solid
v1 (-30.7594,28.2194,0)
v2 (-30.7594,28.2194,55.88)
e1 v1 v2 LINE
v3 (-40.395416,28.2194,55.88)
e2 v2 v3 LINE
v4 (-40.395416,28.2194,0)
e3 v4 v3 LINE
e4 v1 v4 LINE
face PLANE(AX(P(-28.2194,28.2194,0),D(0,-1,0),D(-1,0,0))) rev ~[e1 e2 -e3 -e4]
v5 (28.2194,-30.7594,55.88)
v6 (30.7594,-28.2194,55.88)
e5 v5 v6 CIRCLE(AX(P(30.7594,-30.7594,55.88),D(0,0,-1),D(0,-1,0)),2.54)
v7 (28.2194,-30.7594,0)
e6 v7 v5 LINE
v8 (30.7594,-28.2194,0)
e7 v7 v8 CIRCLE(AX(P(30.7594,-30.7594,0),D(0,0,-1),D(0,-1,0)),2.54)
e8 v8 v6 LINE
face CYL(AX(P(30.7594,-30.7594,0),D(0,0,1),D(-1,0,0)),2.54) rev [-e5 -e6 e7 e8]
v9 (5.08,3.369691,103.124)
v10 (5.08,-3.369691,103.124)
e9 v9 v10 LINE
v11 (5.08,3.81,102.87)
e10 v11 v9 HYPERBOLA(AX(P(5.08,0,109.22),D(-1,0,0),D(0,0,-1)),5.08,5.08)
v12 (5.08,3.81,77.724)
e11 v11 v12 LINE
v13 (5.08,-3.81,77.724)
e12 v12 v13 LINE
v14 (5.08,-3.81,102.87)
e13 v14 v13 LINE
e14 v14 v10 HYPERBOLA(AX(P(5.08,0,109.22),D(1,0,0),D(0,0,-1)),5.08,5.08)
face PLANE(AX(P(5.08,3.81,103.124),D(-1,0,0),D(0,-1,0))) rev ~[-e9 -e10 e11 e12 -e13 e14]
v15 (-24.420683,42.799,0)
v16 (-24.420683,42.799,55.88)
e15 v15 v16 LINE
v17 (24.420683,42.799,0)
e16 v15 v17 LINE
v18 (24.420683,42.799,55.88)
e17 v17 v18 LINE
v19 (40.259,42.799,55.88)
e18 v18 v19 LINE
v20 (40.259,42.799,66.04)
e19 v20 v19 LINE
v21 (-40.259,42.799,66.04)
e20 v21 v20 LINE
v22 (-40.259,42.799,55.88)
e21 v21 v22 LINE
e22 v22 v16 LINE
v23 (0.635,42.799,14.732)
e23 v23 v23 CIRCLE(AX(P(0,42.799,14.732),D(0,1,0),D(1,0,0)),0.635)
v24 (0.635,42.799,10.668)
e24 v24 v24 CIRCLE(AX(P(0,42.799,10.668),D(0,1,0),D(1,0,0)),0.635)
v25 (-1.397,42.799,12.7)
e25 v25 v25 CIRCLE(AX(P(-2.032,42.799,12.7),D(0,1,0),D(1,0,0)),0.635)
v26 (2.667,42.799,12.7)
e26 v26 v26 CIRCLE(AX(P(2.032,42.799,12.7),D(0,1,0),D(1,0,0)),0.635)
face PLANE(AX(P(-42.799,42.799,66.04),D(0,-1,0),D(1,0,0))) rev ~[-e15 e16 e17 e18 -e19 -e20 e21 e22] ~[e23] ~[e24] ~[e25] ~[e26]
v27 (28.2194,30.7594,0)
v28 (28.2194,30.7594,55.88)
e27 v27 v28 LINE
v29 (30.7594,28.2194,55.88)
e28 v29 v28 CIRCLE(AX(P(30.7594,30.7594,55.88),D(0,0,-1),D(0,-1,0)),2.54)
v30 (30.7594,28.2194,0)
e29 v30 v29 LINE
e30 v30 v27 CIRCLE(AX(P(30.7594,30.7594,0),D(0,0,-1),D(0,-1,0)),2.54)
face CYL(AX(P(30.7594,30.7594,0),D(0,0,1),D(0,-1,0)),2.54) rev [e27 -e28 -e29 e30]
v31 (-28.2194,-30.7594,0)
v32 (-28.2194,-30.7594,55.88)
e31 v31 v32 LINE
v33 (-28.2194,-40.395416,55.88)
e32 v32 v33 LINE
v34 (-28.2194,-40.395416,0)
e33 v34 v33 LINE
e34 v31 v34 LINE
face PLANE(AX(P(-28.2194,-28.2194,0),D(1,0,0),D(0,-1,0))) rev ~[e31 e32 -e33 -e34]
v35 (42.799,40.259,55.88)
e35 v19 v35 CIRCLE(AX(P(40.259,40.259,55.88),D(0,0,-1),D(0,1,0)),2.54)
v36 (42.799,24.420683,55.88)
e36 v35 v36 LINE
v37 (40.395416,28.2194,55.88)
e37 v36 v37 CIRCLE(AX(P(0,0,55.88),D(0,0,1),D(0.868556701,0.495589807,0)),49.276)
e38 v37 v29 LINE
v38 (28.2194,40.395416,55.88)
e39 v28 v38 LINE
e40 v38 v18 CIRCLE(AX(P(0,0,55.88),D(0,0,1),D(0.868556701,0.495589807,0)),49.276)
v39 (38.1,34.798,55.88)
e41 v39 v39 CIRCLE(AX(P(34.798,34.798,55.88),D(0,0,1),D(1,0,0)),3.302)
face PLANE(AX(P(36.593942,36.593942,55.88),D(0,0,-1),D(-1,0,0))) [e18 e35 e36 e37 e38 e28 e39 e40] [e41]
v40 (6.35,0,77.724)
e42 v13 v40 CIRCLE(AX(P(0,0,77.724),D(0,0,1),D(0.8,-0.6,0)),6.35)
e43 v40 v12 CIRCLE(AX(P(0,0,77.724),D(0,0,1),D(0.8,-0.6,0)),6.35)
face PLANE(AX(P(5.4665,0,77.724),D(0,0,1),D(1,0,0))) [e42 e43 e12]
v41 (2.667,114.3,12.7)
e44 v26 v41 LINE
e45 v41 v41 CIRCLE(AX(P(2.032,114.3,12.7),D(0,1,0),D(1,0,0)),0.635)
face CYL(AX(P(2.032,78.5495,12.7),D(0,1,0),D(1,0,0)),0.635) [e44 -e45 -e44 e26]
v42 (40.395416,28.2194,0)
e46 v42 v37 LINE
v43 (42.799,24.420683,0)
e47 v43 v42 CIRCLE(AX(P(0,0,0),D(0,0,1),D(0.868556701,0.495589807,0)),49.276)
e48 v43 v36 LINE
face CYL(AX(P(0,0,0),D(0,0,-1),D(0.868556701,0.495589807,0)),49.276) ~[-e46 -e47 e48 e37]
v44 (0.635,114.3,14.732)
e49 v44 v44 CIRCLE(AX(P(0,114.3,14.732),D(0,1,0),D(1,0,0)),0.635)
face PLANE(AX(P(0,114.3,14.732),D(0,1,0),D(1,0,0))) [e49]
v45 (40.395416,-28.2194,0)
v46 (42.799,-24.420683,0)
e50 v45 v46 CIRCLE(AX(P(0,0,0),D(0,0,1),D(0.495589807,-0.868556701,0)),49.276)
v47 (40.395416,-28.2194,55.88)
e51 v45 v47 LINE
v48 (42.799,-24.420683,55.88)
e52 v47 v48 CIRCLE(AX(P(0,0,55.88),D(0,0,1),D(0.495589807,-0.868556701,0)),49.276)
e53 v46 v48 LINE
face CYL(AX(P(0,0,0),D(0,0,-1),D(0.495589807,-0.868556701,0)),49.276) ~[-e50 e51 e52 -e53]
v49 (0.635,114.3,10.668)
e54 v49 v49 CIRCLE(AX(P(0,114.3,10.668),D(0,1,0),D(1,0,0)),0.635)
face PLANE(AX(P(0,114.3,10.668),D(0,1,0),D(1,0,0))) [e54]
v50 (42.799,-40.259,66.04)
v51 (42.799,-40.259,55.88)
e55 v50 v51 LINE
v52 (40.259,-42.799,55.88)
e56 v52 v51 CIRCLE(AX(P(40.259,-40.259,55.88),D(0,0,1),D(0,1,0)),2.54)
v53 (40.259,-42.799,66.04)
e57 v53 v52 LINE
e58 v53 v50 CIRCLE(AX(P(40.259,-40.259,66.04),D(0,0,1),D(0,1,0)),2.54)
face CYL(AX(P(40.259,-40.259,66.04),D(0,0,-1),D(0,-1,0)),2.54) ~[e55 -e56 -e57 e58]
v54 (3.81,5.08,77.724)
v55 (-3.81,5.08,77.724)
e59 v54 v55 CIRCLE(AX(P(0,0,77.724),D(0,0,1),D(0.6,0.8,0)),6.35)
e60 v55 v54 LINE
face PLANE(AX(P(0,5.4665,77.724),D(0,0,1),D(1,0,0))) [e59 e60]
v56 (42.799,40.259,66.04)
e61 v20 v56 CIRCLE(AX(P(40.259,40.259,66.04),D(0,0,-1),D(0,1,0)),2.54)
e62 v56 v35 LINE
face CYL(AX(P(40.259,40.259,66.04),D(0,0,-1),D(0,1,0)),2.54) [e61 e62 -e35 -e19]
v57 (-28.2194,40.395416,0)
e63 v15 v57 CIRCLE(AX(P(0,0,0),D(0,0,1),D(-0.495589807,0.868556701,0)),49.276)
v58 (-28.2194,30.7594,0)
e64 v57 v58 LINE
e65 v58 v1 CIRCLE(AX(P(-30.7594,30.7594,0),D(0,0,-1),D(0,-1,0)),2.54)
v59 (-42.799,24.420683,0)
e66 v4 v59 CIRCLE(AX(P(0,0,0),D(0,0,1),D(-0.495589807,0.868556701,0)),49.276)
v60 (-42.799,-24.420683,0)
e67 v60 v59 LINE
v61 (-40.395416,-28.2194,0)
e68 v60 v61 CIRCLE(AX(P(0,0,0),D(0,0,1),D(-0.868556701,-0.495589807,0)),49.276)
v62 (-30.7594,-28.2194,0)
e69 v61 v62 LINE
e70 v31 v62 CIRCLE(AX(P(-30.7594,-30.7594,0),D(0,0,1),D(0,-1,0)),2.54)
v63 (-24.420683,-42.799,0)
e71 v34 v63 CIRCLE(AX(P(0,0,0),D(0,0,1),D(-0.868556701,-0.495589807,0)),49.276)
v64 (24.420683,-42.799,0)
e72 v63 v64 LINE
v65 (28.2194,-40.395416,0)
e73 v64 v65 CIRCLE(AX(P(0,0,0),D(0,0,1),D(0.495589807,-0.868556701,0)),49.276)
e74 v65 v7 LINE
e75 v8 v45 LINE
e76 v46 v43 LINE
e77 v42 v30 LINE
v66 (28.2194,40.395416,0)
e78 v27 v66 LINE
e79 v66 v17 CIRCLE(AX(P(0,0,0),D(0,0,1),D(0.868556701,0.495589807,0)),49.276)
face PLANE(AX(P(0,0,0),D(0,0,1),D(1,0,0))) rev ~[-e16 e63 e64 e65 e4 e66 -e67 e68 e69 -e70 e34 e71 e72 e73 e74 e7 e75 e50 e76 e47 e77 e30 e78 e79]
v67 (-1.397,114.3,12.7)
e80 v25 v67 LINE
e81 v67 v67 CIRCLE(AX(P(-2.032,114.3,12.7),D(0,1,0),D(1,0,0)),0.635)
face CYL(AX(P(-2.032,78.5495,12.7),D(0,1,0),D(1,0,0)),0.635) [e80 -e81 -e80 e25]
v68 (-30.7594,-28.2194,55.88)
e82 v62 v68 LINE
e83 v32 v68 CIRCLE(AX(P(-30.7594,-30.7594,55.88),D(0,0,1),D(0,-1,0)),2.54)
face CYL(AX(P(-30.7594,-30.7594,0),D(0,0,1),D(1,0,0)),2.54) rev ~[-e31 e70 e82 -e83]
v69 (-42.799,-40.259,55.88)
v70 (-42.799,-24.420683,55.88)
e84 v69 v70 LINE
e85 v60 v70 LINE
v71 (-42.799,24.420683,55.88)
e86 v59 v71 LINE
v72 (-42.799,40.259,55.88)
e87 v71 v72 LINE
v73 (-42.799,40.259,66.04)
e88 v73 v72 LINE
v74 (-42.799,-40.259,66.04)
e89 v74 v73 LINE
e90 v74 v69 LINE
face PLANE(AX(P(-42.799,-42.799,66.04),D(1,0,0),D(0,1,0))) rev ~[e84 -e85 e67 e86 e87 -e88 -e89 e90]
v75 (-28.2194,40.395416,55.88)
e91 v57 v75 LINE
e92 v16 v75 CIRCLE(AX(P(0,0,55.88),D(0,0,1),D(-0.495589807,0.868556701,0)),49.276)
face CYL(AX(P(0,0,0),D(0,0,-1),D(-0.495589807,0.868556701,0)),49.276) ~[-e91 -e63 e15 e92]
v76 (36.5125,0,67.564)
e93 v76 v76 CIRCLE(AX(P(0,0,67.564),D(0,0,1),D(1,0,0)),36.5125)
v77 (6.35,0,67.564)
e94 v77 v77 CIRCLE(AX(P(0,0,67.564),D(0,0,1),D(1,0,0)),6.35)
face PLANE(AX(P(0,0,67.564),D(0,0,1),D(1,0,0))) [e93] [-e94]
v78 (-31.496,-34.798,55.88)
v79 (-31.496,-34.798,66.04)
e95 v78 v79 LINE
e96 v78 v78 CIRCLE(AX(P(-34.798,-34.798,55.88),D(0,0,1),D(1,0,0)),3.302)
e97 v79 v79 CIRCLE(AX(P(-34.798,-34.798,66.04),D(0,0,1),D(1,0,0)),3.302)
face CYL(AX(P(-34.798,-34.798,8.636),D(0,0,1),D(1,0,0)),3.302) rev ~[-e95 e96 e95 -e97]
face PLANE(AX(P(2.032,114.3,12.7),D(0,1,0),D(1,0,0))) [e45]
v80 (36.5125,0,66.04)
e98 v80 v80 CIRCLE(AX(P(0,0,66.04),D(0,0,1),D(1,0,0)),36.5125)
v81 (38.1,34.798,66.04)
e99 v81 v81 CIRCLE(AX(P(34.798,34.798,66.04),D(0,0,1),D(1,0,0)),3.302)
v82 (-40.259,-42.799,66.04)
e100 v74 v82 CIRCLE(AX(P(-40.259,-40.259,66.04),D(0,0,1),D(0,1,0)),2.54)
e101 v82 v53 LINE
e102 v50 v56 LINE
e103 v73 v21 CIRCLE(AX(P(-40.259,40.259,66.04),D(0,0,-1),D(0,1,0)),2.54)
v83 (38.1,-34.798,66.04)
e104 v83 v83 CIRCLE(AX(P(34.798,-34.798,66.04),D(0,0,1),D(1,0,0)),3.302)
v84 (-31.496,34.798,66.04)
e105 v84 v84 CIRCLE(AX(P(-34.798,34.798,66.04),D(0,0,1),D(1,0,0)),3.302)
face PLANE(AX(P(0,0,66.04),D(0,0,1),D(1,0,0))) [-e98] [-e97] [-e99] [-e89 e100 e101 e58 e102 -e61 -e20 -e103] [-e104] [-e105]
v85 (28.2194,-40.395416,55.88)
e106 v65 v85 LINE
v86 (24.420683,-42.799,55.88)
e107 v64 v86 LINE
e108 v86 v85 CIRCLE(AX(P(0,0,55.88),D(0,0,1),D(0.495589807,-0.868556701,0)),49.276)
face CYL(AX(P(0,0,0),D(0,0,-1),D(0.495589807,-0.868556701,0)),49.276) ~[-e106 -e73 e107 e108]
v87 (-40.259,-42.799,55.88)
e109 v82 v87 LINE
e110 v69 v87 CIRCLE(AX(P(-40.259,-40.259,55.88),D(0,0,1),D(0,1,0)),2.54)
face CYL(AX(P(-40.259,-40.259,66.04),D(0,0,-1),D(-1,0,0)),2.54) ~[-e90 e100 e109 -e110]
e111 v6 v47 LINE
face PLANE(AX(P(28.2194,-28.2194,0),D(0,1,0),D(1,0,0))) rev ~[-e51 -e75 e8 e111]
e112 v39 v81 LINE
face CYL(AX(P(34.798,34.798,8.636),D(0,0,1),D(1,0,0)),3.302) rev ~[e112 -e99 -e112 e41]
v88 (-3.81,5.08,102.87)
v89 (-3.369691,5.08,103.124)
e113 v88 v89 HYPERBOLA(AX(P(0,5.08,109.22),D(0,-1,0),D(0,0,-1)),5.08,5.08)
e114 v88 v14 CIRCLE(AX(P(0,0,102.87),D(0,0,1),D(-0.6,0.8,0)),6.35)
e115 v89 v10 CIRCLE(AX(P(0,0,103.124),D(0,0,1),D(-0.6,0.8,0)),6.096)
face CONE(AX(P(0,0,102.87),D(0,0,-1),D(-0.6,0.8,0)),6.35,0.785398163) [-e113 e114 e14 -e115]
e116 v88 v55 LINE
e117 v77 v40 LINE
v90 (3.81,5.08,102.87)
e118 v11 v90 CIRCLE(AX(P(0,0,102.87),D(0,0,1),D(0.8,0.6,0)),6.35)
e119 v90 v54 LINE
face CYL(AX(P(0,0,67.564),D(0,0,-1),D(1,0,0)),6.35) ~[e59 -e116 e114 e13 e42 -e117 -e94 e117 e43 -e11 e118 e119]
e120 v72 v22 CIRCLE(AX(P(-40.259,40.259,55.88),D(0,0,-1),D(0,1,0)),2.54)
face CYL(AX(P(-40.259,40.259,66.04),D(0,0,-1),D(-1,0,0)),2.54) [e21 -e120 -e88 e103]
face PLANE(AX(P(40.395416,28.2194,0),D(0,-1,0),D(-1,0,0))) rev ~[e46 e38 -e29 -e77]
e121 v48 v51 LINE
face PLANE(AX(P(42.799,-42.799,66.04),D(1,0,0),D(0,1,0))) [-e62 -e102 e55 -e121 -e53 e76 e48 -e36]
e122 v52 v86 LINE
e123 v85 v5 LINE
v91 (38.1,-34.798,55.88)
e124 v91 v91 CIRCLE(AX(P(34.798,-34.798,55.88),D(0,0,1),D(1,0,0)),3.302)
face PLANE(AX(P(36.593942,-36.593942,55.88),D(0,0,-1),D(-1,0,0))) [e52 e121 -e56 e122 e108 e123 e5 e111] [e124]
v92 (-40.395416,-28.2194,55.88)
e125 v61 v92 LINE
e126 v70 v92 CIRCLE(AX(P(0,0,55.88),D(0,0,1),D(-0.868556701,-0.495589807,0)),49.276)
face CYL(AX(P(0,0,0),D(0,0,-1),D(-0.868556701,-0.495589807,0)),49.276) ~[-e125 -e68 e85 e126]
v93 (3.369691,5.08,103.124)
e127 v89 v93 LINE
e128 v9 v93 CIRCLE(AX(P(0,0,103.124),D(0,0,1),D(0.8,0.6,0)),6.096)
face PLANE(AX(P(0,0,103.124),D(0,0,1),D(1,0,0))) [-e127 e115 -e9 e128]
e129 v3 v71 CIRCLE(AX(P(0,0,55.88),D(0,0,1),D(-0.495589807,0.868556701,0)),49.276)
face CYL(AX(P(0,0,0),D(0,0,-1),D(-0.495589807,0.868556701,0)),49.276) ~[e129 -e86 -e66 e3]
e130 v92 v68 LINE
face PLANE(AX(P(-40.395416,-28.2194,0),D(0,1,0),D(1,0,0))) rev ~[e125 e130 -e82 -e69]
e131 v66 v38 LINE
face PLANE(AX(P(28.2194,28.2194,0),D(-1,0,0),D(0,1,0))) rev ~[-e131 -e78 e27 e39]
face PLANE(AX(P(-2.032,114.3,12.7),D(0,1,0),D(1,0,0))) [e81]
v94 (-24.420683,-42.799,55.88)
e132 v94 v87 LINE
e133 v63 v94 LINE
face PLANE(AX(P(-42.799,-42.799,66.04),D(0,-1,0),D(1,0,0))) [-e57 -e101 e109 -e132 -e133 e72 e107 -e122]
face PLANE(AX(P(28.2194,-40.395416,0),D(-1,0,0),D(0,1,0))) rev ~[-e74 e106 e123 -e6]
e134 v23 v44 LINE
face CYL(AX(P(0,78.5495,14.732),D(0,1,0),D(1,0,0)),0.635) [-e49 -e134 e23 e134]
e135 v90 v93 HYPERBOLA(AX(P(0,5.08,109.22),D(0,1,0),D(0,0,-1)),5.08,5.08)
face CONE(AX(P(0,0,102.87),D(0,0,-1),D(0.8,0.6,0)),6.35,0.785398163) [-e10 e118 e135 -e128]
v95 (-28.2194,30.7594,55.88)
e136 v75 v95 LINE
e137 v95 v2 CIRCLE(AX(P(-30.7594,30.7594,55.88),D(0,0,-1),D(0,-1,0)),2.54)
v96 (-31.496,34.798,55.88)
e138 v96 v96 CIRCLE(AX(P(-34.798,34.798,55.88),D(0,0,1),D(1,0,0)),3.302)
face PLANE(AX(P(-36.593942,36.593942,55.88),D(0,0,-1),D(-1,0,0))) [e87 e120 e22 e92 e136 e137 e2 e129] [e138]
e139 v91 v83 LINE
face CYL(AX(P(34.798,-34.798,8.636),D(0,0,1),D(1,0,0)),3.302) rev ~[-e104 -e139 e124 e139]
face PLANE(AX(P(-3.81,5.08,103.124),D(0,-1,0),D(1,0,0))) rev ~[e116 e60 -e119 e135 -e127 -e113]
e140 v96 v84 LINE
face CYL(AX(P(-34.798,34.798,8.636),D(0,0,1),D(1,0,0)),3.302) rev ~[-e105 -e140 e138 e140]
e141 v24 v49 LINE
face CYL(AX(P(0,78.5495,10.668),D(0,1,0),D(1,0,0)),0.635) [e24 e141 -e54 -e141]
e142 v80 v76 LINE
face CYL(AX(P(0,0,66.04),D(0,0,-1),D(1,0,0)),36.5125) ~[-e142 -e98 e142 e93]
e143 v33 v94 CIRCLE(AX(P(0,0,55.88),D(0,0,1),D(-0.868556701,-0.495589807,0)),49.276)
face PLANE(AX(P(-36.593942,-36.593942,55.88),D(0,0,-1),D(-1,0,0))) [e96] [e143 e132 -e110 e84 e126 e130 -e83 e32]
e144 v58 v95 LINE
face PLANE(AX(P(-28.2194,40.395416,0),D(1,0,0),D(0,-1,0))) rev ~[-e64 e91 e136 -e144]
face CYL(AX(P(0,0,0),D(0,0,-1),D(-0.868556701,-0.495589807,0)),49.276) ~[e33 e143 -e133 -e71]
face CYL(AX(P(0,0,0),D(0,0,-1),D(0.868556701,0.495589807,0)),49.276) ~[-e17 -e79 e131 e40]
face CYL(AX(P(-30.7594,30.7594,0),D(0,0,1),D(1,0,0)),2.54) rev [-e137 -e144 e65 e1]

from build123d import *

# Parameters (mm, degrees)
SKETCH1_W           = 85.598
SKETCH1_H           = 85.598
BOSS_EXTRUDE1_DEPTH = 66.04
CUT_EXTRUDE1_DEPTH  = 55.88
CUT_EXTRUDE2_DEPTH  = 55.88
CUT_EXTRUDE3_DEPTH  = 55.88
CUT_EXTRUDE4_DEPTH  = 55.88
CUT_EXTRUDE5_DEPTH  = 55.88
CUT_EXTRUDE6_DEPTH  = 55.88
CUT_EXTRUDE7_DEPTH  = 55.88
CUT_EXTRUDE8_DEPTH  = 55.88
SKETCH10_R          = 36.5125
BOSS_EXTRUDE2_DEPTH = 1.524
SKETCH11_R          = 6.35
BOSS_EXTRUDE3_DEPTH = 35.56
CUT_EXTRUDE9_DEPTH  = 25.4
CUT_EXTRUDE10_DEPTH = 25.4
SKETCH14_W          = 0.635
SKETCH14_H          = 71.501
SKETCH15_W          = 0.635
SKETCH15_H          = 71.501
SKETCH16_W          = 0.635
SKETCH16_H          = 71.501
SKETCH17_W          = 0.635
SKETCH17_H          = 71.501
HOLE1_D             = 6.604
HOLE1_DEPTH         = 47.244
HOLE2_D             = 6.604
HOLE2_DEPTH         = 47.244
HOLE3_D             = 6.604
HOLE3_DEPTH         = 47.244
HOLE4_D             = 6.604
HOLE4_DEPTH         = 47.244
CHAMFER1_SIZE       = 0.254
CHAMFER2_SIZE       = 0.254
FILLET1_R           = 2.54
FILLET2_R           = 2.54
FILLET3_R           = 2.54
FILLET4_R           = 2.54
FILLET5_R           = 2.54
FILLET6_R           = 2.54
FILLET7_R           = 2.54
FILLET8_R           = 2.54


with BuildPart() as part:
    # Sketch1 → Boss-Extrude1 (new body)
    with BuildSketch(Plane.XY.offset(66.04)):
        Rectangle(SKETCH1_W, SKETCH1_H)
    extrude(amount=-BOSS_EXTRUDE1_DEPTH)

    # Sketch2 → Cut-Extrude1 (cut)
    with BuildSketch(Plane(origin=(0, 0, 0), x_dir=(-1, 0, 0), z_dir=(0, 0, -1))):
        with BuildLine():
            Line((-42.799, -42.799), (-24.420683344, -42.799))
            ThreePointArc((-24.420683344, -42.799), (-34.84339375, -34.84339375), (-42.799, -24.420683344))
            Line((-42.799, -24.420683344), (-42.799, -42.799))
        make_face()
    extrude(amount=-CUT_EXTRUDE1_DEPTH, mode=Mode.SUBTRACT)

    # Sketch3 → Cut-Extrude2 (cut)
    with BuildSketch(Plane(origin=(0, 0, 0), x_dir=(-1, 0, 0), z_dir=(0, 0, -1))):
        with BuildLine():
            Line((-28.2194, -40.395416072), (-28.2194, -28.2194))
            Line((-28.2194, -28.2194), (-40.395416072, -28.2194))
            ThreePointArc((-40.395416072, -28.2194), (-34.84339375, -34.84339375), (-28.2194, -40.395416072))
        make_face()
    extrude(amount=-CUT_EXTRUDE2_DEPTH, mode=Mode.SUBTRACT)

    # Sketch4 → Cut-Extrude3 (cut)
    with BuildSketch(Plane(origin=(0, 0, 0), x_dir=(-1, 0, 0), z_dir=(0, 0, -1))):
        with BuildLine():
            Line((-42.799, 42.799), (-42.799, 24.420683344))
            ThreePointArc((-42.799, 24.420683344), (-34.84339375, 34.84339375), (-24.420683344, 42.799))
            Line((-24.420683344, 42.799), (-42.799, 42.799))
        make_face()
    extrude(amount=-CUT_EXTRUDE3_DEPTH, mode=Mode.SUBTRACT)

    # Sketch5 → Cut-Extrude4 (cut)
    with BuildSketch(Plane(origin=(0, 0, 0), x_dir=(-1, 0, 0), z_dir=(0, 0, -1))):
        with BuildLine():
            Line((-40.395416072, 28.2194), (-28.2194, 28.2194))
            Line((-28.2194, 28.2194), (-28.2194, 40.395416072))
            ThreePointArc((-28.2194, 40.395416072), (-34.84339375, 34.84339375), (-40.395416072, 28.2194))
        make_face()
    extrude(amount=-CUT_EXTRUDE4_DEPTH, mode=Mode.SUBTRACT)

    # Sketch6 → Cut-Extrude5 (cut)
    with BuildSketch(Plane(origin=(0, 0, 0), x_dir=(-1, 0, 0), z_dir=(0, 0, -1))):
        with BuildLine():
            Line((42.799, 42.799), (24.420683344, 42.799))
            ThreePointArc((24.420683344, 42.799), (34.84339375, 34.84339375), (42.799, 24.420683344))
            Line((42.799, 24.420683344), (42.799, 42.799))
        make_face()
    extrude(amount=-CUT_EXTRUDE5_DEPTH, mode=Mode.SUBTRACT)

    # Sketch7 → Cut-Extrude6 (cut)
    with BuildSketch(Plane(origin=(0, 0, 0), x_dir=(-1, 0, 0), z_dir=(0, 0, -1))):
        with BuildLine():
            Line((28.2194, 40.395416072), (28.2194, 28.2194))
            Line((28.2194, 28.2194), (40.395416072, 28.2194))
            ThreePointArc((40.395416072, 28.2194), (34.84339375, 34.84339375), (28.2194, 40.395416072))
        make_face()
    extrude(amount=-CUT_EXTRUDE6_DEPTH, mode=Mode.SUBTRACT)

    # Sketch8 → Cut-Extrude7 (cut)
    with BuildSketch(Plane(origin=(0, 0, 0), x_dir=(-1, 0, 0), z_dir=(0, 0, -1))):
        with BuildLine():
            Line((42.799, -42.799), (42.799, -24.420683344))
            ThreePointArc((42.799, -24.420683344), (34.84339375, -34.84339375), (24.420683344, -42.799))
            Line((24.420683344, -42.799), (42.799, -42.799))
        make_face()
    extrude(amount=-CUT_EXTRUDE7_DEPTH, mode=Mode.SUBTRACT)

    # Sketch9 → Cut-Extrude8 (cut)
    with BuildSketch(Plane(origin=(0, 0, 0), x_dir=(-1, 0, 0), z_dir=(0, 0, -1))):
        with BuildLine():
            Line((40.395416072, -28.2194), (28.2194, -28.2194))
            Line((28.2194, -28.2194), (28.2194, -40.395416072))
            ThreePointArc((28.2194, -40.395416072), (34.84339375, -34.84339375), (40.395416072, -28.2194))
        make_face()
    extrude(amount=-CUT_EXTRUDE8_DEPTH, mode=Mode.SUBTRACT)

    # Sketch10 → Boss-Extrude2 (add)
    with BuildSketch(Plane.XY.offset(66.04)):
        Circle(SKETCH10_R)
    extrude(amount=BOSS_EXTRUDE2_DEPTH)

    # Sketch11 → Boss-Extrude3 (add)
    with BuildSketch(Plane.XY.offset(67.564)):
        Circle(SKETCH11_R)
    extrude(amount=BOSS_EXTRUDE3_DEPTH)

    # Sketch12 → Cut-Extrude9 (cut)
    with BuildSketch(Plane.XY.offset(103.124)):
        with BuildLine():
            Line((-3.81, 5.08), (3.81, 5.08))
            ThreePointArc((3.81, 5.08), (0, 6.35), (-3.81, 5.08))
        make_face()
    extrude(amount=-CUT_EXTRUDE9_DEPTH, mode=Mode.SUBTRACT)

    # Sketch13 → Cut-Extrude10 (cut)
    with BuildSketch(Plane.XY.offset(103.124)):
        with BuildLine():
            Line((5.08, 3.81), (5.08, -3.81))
            ThreePointArc((5.08, -3.81), (6.35, 0), (5.08, 3.81))
        make_face()
    extrude(amount=-CUT_EXTRUDE10_DEPTH, mode=Mode.SUBTRACT)

    # Sketch14 → Revolve1 (revolve)
    with BuildSketch(Plane(origin=(0, 0, 12.7), x_dir=(-1, 0, 0), z_dir=(0, 0, -1))):
        with Locations((1.7145, 78.5495)):
            Rectangle(SKETCH14_W, SKETCH14_H)
    revolve(axis=Axis((-2.032, 42.799, 12.7), (0, 1, 0)))

    # Sketch15 → Revolve2 (revolve)
    with BuildSketch(Plane(origin=(0, 0, 12.7), x_dir=(-1, 0, 0), z_dir=(0, 0, -1))):
        with Locations((-2.3495, 78.5495)):
            Rectangle(SKETCH15_W, SKETCH15_H)
    revolve(axis=Axis((2.032, 42.799, 12.7), (0, 1, 0)))

    # Sketch16 → Revolve3 (revolve)
    with BuildSketch(Plane(origin=(0, 0, 14.732), x_dir=(-1, 0, 0), z_dir=(0, 0, -1))):
        with Locations((-0.3175, 78.5495)):
            Rectangle(SKETCH16_W, SKETCH16_H)
    revolve(axis=Axis((0, 42.799, 14.732), (0, 1, 0)))

    # Sketch17 → Revolve4 (revolve)
    with BuildSketch(Plane(origin=(0, 0, 10.668), x_dir=(-1, 0, 0), z_dir=(0, 0, -1))):
        with Locations((-0.3175, 78.5495)):
            Rectangle(SKETCH17_W, SKETCH17_H)
    revolve(axis=Axis((0, 42.799, 10.668), (0, 1, 0)))

    # Hole1
    with Locations(Plane(origin=(0, 0, 55.88), x_dir=(-1, 0, 0), z_dir=(0, 0, -1))):
        with Locations((34.798, -34.798)):
            Hole(HOLE1_D / 2, depth=HOLE1_DEPTH)

    # Hole2
    with Locations(Plane(origin=(0, 0, 55.88), x_dir=(-1, 0, 0), z_dir=(0, 0, -1))):
        with Locations((34.798, 34.798)):
            Hole(HOLE2_D / 2, depth=HOLE2_DEPTH)

    # Hole3
    with Locations(Plane(origin=(0, 0, 55.88), x_dir=(-1, 0, 0), z_dir=(0, 0, -1))):
        with Locations((-34.798, 34.798)):
            Hole(HOLE3_D / 2, depth=HOLE3_DEPTH)

    # Hole4
    with Locations(Plane(origin=(0, 0, 55.88), x_dir=(-1, 0, 0), z_dir=(0, 0, -1))):
        with Locations((-34.798, -34.798)):
            Hole(HOLE4_D / 2, depth=HOLE4_DEPTH)

    # Chamfer1
    chamfer1_edges = [part.edges().sort_by_distance(p)[0] for p in [
        (-4.490128061, -4.490128061, 103.124),
    ]]
    chamfer(chamfer1_edges, length=CHAMFER1_SIZE)

    # Chamfer2
    chamfer2_edges = [part.edges().sort_by_distance(p)[0] for p in [
        (4.490128061, 4.490128061, 103.124),
    ]]
    chamfer(chamfer2_edges, length=CHAMFER2_SIZE)

    # Fillet1
    fillet1_edges = [part.edges().sort_by_distance(p)[0] for p in [
        (-42.799, -42.799, 60.96),
    ]]
    fillet(fillet1_edges, radius=FILLET1_R)

    # Fillet2
    fillet2_edges = [part.edges().sort_by_distance(p)[0] for p in [
        (-42.799, 42.799, 60.96),
    ]]
    fillet(fillet2_edges, radius=FILLET2_R)

    # Fillet3
    fillet3_edges = [part.edges().sort_by_distance(p)[0] for p in [
        (42.799, 42.799, 60.96),
    ]]
    fillet(fillet3_edges, radius=FILLET3_R)

    # Fillet4
    fillet4_edges = [part.edges().sort_by_distance(p)[0] for p in [
        (-28.2194, 28.2194, 27.94),
    ]]
    fillet(fillet4_edges, radius=FILLET4_R)

    # Fillet5
    fillet5_edges = [part.edges().sort_by_distance(p)[0] for p in [
        (42.799, -42.799, 60.96),
    ]]
    fillet(fillet5_edges, radius=FILLET5_R)

    # Fillet6
    fillet6_edges = [part.edges().sort_by_distance(p)[0] for p in [
        (28.2194, -28.2194, 27.94),
    ]]
    fillet(fillet6_edges, radius=FILLET6_R)

    # Fillet7
    fillet7_edges = [part.edges().sort_by_distance(p)[0] for p in [
        (28.2194, 28.2194, 27.94),
    ]]
    fillet(fillet7_edges, radius=FILLET7_R)

    # Fillet8
    fillet8_edges = [part.edges().sort_by_distance(p)[0] for p in [
        (-28.2194, -28.2194, 27.94),
    ]]
    fillet(fillet8_edges, radius=FILLET8_R)


solid = part.part
